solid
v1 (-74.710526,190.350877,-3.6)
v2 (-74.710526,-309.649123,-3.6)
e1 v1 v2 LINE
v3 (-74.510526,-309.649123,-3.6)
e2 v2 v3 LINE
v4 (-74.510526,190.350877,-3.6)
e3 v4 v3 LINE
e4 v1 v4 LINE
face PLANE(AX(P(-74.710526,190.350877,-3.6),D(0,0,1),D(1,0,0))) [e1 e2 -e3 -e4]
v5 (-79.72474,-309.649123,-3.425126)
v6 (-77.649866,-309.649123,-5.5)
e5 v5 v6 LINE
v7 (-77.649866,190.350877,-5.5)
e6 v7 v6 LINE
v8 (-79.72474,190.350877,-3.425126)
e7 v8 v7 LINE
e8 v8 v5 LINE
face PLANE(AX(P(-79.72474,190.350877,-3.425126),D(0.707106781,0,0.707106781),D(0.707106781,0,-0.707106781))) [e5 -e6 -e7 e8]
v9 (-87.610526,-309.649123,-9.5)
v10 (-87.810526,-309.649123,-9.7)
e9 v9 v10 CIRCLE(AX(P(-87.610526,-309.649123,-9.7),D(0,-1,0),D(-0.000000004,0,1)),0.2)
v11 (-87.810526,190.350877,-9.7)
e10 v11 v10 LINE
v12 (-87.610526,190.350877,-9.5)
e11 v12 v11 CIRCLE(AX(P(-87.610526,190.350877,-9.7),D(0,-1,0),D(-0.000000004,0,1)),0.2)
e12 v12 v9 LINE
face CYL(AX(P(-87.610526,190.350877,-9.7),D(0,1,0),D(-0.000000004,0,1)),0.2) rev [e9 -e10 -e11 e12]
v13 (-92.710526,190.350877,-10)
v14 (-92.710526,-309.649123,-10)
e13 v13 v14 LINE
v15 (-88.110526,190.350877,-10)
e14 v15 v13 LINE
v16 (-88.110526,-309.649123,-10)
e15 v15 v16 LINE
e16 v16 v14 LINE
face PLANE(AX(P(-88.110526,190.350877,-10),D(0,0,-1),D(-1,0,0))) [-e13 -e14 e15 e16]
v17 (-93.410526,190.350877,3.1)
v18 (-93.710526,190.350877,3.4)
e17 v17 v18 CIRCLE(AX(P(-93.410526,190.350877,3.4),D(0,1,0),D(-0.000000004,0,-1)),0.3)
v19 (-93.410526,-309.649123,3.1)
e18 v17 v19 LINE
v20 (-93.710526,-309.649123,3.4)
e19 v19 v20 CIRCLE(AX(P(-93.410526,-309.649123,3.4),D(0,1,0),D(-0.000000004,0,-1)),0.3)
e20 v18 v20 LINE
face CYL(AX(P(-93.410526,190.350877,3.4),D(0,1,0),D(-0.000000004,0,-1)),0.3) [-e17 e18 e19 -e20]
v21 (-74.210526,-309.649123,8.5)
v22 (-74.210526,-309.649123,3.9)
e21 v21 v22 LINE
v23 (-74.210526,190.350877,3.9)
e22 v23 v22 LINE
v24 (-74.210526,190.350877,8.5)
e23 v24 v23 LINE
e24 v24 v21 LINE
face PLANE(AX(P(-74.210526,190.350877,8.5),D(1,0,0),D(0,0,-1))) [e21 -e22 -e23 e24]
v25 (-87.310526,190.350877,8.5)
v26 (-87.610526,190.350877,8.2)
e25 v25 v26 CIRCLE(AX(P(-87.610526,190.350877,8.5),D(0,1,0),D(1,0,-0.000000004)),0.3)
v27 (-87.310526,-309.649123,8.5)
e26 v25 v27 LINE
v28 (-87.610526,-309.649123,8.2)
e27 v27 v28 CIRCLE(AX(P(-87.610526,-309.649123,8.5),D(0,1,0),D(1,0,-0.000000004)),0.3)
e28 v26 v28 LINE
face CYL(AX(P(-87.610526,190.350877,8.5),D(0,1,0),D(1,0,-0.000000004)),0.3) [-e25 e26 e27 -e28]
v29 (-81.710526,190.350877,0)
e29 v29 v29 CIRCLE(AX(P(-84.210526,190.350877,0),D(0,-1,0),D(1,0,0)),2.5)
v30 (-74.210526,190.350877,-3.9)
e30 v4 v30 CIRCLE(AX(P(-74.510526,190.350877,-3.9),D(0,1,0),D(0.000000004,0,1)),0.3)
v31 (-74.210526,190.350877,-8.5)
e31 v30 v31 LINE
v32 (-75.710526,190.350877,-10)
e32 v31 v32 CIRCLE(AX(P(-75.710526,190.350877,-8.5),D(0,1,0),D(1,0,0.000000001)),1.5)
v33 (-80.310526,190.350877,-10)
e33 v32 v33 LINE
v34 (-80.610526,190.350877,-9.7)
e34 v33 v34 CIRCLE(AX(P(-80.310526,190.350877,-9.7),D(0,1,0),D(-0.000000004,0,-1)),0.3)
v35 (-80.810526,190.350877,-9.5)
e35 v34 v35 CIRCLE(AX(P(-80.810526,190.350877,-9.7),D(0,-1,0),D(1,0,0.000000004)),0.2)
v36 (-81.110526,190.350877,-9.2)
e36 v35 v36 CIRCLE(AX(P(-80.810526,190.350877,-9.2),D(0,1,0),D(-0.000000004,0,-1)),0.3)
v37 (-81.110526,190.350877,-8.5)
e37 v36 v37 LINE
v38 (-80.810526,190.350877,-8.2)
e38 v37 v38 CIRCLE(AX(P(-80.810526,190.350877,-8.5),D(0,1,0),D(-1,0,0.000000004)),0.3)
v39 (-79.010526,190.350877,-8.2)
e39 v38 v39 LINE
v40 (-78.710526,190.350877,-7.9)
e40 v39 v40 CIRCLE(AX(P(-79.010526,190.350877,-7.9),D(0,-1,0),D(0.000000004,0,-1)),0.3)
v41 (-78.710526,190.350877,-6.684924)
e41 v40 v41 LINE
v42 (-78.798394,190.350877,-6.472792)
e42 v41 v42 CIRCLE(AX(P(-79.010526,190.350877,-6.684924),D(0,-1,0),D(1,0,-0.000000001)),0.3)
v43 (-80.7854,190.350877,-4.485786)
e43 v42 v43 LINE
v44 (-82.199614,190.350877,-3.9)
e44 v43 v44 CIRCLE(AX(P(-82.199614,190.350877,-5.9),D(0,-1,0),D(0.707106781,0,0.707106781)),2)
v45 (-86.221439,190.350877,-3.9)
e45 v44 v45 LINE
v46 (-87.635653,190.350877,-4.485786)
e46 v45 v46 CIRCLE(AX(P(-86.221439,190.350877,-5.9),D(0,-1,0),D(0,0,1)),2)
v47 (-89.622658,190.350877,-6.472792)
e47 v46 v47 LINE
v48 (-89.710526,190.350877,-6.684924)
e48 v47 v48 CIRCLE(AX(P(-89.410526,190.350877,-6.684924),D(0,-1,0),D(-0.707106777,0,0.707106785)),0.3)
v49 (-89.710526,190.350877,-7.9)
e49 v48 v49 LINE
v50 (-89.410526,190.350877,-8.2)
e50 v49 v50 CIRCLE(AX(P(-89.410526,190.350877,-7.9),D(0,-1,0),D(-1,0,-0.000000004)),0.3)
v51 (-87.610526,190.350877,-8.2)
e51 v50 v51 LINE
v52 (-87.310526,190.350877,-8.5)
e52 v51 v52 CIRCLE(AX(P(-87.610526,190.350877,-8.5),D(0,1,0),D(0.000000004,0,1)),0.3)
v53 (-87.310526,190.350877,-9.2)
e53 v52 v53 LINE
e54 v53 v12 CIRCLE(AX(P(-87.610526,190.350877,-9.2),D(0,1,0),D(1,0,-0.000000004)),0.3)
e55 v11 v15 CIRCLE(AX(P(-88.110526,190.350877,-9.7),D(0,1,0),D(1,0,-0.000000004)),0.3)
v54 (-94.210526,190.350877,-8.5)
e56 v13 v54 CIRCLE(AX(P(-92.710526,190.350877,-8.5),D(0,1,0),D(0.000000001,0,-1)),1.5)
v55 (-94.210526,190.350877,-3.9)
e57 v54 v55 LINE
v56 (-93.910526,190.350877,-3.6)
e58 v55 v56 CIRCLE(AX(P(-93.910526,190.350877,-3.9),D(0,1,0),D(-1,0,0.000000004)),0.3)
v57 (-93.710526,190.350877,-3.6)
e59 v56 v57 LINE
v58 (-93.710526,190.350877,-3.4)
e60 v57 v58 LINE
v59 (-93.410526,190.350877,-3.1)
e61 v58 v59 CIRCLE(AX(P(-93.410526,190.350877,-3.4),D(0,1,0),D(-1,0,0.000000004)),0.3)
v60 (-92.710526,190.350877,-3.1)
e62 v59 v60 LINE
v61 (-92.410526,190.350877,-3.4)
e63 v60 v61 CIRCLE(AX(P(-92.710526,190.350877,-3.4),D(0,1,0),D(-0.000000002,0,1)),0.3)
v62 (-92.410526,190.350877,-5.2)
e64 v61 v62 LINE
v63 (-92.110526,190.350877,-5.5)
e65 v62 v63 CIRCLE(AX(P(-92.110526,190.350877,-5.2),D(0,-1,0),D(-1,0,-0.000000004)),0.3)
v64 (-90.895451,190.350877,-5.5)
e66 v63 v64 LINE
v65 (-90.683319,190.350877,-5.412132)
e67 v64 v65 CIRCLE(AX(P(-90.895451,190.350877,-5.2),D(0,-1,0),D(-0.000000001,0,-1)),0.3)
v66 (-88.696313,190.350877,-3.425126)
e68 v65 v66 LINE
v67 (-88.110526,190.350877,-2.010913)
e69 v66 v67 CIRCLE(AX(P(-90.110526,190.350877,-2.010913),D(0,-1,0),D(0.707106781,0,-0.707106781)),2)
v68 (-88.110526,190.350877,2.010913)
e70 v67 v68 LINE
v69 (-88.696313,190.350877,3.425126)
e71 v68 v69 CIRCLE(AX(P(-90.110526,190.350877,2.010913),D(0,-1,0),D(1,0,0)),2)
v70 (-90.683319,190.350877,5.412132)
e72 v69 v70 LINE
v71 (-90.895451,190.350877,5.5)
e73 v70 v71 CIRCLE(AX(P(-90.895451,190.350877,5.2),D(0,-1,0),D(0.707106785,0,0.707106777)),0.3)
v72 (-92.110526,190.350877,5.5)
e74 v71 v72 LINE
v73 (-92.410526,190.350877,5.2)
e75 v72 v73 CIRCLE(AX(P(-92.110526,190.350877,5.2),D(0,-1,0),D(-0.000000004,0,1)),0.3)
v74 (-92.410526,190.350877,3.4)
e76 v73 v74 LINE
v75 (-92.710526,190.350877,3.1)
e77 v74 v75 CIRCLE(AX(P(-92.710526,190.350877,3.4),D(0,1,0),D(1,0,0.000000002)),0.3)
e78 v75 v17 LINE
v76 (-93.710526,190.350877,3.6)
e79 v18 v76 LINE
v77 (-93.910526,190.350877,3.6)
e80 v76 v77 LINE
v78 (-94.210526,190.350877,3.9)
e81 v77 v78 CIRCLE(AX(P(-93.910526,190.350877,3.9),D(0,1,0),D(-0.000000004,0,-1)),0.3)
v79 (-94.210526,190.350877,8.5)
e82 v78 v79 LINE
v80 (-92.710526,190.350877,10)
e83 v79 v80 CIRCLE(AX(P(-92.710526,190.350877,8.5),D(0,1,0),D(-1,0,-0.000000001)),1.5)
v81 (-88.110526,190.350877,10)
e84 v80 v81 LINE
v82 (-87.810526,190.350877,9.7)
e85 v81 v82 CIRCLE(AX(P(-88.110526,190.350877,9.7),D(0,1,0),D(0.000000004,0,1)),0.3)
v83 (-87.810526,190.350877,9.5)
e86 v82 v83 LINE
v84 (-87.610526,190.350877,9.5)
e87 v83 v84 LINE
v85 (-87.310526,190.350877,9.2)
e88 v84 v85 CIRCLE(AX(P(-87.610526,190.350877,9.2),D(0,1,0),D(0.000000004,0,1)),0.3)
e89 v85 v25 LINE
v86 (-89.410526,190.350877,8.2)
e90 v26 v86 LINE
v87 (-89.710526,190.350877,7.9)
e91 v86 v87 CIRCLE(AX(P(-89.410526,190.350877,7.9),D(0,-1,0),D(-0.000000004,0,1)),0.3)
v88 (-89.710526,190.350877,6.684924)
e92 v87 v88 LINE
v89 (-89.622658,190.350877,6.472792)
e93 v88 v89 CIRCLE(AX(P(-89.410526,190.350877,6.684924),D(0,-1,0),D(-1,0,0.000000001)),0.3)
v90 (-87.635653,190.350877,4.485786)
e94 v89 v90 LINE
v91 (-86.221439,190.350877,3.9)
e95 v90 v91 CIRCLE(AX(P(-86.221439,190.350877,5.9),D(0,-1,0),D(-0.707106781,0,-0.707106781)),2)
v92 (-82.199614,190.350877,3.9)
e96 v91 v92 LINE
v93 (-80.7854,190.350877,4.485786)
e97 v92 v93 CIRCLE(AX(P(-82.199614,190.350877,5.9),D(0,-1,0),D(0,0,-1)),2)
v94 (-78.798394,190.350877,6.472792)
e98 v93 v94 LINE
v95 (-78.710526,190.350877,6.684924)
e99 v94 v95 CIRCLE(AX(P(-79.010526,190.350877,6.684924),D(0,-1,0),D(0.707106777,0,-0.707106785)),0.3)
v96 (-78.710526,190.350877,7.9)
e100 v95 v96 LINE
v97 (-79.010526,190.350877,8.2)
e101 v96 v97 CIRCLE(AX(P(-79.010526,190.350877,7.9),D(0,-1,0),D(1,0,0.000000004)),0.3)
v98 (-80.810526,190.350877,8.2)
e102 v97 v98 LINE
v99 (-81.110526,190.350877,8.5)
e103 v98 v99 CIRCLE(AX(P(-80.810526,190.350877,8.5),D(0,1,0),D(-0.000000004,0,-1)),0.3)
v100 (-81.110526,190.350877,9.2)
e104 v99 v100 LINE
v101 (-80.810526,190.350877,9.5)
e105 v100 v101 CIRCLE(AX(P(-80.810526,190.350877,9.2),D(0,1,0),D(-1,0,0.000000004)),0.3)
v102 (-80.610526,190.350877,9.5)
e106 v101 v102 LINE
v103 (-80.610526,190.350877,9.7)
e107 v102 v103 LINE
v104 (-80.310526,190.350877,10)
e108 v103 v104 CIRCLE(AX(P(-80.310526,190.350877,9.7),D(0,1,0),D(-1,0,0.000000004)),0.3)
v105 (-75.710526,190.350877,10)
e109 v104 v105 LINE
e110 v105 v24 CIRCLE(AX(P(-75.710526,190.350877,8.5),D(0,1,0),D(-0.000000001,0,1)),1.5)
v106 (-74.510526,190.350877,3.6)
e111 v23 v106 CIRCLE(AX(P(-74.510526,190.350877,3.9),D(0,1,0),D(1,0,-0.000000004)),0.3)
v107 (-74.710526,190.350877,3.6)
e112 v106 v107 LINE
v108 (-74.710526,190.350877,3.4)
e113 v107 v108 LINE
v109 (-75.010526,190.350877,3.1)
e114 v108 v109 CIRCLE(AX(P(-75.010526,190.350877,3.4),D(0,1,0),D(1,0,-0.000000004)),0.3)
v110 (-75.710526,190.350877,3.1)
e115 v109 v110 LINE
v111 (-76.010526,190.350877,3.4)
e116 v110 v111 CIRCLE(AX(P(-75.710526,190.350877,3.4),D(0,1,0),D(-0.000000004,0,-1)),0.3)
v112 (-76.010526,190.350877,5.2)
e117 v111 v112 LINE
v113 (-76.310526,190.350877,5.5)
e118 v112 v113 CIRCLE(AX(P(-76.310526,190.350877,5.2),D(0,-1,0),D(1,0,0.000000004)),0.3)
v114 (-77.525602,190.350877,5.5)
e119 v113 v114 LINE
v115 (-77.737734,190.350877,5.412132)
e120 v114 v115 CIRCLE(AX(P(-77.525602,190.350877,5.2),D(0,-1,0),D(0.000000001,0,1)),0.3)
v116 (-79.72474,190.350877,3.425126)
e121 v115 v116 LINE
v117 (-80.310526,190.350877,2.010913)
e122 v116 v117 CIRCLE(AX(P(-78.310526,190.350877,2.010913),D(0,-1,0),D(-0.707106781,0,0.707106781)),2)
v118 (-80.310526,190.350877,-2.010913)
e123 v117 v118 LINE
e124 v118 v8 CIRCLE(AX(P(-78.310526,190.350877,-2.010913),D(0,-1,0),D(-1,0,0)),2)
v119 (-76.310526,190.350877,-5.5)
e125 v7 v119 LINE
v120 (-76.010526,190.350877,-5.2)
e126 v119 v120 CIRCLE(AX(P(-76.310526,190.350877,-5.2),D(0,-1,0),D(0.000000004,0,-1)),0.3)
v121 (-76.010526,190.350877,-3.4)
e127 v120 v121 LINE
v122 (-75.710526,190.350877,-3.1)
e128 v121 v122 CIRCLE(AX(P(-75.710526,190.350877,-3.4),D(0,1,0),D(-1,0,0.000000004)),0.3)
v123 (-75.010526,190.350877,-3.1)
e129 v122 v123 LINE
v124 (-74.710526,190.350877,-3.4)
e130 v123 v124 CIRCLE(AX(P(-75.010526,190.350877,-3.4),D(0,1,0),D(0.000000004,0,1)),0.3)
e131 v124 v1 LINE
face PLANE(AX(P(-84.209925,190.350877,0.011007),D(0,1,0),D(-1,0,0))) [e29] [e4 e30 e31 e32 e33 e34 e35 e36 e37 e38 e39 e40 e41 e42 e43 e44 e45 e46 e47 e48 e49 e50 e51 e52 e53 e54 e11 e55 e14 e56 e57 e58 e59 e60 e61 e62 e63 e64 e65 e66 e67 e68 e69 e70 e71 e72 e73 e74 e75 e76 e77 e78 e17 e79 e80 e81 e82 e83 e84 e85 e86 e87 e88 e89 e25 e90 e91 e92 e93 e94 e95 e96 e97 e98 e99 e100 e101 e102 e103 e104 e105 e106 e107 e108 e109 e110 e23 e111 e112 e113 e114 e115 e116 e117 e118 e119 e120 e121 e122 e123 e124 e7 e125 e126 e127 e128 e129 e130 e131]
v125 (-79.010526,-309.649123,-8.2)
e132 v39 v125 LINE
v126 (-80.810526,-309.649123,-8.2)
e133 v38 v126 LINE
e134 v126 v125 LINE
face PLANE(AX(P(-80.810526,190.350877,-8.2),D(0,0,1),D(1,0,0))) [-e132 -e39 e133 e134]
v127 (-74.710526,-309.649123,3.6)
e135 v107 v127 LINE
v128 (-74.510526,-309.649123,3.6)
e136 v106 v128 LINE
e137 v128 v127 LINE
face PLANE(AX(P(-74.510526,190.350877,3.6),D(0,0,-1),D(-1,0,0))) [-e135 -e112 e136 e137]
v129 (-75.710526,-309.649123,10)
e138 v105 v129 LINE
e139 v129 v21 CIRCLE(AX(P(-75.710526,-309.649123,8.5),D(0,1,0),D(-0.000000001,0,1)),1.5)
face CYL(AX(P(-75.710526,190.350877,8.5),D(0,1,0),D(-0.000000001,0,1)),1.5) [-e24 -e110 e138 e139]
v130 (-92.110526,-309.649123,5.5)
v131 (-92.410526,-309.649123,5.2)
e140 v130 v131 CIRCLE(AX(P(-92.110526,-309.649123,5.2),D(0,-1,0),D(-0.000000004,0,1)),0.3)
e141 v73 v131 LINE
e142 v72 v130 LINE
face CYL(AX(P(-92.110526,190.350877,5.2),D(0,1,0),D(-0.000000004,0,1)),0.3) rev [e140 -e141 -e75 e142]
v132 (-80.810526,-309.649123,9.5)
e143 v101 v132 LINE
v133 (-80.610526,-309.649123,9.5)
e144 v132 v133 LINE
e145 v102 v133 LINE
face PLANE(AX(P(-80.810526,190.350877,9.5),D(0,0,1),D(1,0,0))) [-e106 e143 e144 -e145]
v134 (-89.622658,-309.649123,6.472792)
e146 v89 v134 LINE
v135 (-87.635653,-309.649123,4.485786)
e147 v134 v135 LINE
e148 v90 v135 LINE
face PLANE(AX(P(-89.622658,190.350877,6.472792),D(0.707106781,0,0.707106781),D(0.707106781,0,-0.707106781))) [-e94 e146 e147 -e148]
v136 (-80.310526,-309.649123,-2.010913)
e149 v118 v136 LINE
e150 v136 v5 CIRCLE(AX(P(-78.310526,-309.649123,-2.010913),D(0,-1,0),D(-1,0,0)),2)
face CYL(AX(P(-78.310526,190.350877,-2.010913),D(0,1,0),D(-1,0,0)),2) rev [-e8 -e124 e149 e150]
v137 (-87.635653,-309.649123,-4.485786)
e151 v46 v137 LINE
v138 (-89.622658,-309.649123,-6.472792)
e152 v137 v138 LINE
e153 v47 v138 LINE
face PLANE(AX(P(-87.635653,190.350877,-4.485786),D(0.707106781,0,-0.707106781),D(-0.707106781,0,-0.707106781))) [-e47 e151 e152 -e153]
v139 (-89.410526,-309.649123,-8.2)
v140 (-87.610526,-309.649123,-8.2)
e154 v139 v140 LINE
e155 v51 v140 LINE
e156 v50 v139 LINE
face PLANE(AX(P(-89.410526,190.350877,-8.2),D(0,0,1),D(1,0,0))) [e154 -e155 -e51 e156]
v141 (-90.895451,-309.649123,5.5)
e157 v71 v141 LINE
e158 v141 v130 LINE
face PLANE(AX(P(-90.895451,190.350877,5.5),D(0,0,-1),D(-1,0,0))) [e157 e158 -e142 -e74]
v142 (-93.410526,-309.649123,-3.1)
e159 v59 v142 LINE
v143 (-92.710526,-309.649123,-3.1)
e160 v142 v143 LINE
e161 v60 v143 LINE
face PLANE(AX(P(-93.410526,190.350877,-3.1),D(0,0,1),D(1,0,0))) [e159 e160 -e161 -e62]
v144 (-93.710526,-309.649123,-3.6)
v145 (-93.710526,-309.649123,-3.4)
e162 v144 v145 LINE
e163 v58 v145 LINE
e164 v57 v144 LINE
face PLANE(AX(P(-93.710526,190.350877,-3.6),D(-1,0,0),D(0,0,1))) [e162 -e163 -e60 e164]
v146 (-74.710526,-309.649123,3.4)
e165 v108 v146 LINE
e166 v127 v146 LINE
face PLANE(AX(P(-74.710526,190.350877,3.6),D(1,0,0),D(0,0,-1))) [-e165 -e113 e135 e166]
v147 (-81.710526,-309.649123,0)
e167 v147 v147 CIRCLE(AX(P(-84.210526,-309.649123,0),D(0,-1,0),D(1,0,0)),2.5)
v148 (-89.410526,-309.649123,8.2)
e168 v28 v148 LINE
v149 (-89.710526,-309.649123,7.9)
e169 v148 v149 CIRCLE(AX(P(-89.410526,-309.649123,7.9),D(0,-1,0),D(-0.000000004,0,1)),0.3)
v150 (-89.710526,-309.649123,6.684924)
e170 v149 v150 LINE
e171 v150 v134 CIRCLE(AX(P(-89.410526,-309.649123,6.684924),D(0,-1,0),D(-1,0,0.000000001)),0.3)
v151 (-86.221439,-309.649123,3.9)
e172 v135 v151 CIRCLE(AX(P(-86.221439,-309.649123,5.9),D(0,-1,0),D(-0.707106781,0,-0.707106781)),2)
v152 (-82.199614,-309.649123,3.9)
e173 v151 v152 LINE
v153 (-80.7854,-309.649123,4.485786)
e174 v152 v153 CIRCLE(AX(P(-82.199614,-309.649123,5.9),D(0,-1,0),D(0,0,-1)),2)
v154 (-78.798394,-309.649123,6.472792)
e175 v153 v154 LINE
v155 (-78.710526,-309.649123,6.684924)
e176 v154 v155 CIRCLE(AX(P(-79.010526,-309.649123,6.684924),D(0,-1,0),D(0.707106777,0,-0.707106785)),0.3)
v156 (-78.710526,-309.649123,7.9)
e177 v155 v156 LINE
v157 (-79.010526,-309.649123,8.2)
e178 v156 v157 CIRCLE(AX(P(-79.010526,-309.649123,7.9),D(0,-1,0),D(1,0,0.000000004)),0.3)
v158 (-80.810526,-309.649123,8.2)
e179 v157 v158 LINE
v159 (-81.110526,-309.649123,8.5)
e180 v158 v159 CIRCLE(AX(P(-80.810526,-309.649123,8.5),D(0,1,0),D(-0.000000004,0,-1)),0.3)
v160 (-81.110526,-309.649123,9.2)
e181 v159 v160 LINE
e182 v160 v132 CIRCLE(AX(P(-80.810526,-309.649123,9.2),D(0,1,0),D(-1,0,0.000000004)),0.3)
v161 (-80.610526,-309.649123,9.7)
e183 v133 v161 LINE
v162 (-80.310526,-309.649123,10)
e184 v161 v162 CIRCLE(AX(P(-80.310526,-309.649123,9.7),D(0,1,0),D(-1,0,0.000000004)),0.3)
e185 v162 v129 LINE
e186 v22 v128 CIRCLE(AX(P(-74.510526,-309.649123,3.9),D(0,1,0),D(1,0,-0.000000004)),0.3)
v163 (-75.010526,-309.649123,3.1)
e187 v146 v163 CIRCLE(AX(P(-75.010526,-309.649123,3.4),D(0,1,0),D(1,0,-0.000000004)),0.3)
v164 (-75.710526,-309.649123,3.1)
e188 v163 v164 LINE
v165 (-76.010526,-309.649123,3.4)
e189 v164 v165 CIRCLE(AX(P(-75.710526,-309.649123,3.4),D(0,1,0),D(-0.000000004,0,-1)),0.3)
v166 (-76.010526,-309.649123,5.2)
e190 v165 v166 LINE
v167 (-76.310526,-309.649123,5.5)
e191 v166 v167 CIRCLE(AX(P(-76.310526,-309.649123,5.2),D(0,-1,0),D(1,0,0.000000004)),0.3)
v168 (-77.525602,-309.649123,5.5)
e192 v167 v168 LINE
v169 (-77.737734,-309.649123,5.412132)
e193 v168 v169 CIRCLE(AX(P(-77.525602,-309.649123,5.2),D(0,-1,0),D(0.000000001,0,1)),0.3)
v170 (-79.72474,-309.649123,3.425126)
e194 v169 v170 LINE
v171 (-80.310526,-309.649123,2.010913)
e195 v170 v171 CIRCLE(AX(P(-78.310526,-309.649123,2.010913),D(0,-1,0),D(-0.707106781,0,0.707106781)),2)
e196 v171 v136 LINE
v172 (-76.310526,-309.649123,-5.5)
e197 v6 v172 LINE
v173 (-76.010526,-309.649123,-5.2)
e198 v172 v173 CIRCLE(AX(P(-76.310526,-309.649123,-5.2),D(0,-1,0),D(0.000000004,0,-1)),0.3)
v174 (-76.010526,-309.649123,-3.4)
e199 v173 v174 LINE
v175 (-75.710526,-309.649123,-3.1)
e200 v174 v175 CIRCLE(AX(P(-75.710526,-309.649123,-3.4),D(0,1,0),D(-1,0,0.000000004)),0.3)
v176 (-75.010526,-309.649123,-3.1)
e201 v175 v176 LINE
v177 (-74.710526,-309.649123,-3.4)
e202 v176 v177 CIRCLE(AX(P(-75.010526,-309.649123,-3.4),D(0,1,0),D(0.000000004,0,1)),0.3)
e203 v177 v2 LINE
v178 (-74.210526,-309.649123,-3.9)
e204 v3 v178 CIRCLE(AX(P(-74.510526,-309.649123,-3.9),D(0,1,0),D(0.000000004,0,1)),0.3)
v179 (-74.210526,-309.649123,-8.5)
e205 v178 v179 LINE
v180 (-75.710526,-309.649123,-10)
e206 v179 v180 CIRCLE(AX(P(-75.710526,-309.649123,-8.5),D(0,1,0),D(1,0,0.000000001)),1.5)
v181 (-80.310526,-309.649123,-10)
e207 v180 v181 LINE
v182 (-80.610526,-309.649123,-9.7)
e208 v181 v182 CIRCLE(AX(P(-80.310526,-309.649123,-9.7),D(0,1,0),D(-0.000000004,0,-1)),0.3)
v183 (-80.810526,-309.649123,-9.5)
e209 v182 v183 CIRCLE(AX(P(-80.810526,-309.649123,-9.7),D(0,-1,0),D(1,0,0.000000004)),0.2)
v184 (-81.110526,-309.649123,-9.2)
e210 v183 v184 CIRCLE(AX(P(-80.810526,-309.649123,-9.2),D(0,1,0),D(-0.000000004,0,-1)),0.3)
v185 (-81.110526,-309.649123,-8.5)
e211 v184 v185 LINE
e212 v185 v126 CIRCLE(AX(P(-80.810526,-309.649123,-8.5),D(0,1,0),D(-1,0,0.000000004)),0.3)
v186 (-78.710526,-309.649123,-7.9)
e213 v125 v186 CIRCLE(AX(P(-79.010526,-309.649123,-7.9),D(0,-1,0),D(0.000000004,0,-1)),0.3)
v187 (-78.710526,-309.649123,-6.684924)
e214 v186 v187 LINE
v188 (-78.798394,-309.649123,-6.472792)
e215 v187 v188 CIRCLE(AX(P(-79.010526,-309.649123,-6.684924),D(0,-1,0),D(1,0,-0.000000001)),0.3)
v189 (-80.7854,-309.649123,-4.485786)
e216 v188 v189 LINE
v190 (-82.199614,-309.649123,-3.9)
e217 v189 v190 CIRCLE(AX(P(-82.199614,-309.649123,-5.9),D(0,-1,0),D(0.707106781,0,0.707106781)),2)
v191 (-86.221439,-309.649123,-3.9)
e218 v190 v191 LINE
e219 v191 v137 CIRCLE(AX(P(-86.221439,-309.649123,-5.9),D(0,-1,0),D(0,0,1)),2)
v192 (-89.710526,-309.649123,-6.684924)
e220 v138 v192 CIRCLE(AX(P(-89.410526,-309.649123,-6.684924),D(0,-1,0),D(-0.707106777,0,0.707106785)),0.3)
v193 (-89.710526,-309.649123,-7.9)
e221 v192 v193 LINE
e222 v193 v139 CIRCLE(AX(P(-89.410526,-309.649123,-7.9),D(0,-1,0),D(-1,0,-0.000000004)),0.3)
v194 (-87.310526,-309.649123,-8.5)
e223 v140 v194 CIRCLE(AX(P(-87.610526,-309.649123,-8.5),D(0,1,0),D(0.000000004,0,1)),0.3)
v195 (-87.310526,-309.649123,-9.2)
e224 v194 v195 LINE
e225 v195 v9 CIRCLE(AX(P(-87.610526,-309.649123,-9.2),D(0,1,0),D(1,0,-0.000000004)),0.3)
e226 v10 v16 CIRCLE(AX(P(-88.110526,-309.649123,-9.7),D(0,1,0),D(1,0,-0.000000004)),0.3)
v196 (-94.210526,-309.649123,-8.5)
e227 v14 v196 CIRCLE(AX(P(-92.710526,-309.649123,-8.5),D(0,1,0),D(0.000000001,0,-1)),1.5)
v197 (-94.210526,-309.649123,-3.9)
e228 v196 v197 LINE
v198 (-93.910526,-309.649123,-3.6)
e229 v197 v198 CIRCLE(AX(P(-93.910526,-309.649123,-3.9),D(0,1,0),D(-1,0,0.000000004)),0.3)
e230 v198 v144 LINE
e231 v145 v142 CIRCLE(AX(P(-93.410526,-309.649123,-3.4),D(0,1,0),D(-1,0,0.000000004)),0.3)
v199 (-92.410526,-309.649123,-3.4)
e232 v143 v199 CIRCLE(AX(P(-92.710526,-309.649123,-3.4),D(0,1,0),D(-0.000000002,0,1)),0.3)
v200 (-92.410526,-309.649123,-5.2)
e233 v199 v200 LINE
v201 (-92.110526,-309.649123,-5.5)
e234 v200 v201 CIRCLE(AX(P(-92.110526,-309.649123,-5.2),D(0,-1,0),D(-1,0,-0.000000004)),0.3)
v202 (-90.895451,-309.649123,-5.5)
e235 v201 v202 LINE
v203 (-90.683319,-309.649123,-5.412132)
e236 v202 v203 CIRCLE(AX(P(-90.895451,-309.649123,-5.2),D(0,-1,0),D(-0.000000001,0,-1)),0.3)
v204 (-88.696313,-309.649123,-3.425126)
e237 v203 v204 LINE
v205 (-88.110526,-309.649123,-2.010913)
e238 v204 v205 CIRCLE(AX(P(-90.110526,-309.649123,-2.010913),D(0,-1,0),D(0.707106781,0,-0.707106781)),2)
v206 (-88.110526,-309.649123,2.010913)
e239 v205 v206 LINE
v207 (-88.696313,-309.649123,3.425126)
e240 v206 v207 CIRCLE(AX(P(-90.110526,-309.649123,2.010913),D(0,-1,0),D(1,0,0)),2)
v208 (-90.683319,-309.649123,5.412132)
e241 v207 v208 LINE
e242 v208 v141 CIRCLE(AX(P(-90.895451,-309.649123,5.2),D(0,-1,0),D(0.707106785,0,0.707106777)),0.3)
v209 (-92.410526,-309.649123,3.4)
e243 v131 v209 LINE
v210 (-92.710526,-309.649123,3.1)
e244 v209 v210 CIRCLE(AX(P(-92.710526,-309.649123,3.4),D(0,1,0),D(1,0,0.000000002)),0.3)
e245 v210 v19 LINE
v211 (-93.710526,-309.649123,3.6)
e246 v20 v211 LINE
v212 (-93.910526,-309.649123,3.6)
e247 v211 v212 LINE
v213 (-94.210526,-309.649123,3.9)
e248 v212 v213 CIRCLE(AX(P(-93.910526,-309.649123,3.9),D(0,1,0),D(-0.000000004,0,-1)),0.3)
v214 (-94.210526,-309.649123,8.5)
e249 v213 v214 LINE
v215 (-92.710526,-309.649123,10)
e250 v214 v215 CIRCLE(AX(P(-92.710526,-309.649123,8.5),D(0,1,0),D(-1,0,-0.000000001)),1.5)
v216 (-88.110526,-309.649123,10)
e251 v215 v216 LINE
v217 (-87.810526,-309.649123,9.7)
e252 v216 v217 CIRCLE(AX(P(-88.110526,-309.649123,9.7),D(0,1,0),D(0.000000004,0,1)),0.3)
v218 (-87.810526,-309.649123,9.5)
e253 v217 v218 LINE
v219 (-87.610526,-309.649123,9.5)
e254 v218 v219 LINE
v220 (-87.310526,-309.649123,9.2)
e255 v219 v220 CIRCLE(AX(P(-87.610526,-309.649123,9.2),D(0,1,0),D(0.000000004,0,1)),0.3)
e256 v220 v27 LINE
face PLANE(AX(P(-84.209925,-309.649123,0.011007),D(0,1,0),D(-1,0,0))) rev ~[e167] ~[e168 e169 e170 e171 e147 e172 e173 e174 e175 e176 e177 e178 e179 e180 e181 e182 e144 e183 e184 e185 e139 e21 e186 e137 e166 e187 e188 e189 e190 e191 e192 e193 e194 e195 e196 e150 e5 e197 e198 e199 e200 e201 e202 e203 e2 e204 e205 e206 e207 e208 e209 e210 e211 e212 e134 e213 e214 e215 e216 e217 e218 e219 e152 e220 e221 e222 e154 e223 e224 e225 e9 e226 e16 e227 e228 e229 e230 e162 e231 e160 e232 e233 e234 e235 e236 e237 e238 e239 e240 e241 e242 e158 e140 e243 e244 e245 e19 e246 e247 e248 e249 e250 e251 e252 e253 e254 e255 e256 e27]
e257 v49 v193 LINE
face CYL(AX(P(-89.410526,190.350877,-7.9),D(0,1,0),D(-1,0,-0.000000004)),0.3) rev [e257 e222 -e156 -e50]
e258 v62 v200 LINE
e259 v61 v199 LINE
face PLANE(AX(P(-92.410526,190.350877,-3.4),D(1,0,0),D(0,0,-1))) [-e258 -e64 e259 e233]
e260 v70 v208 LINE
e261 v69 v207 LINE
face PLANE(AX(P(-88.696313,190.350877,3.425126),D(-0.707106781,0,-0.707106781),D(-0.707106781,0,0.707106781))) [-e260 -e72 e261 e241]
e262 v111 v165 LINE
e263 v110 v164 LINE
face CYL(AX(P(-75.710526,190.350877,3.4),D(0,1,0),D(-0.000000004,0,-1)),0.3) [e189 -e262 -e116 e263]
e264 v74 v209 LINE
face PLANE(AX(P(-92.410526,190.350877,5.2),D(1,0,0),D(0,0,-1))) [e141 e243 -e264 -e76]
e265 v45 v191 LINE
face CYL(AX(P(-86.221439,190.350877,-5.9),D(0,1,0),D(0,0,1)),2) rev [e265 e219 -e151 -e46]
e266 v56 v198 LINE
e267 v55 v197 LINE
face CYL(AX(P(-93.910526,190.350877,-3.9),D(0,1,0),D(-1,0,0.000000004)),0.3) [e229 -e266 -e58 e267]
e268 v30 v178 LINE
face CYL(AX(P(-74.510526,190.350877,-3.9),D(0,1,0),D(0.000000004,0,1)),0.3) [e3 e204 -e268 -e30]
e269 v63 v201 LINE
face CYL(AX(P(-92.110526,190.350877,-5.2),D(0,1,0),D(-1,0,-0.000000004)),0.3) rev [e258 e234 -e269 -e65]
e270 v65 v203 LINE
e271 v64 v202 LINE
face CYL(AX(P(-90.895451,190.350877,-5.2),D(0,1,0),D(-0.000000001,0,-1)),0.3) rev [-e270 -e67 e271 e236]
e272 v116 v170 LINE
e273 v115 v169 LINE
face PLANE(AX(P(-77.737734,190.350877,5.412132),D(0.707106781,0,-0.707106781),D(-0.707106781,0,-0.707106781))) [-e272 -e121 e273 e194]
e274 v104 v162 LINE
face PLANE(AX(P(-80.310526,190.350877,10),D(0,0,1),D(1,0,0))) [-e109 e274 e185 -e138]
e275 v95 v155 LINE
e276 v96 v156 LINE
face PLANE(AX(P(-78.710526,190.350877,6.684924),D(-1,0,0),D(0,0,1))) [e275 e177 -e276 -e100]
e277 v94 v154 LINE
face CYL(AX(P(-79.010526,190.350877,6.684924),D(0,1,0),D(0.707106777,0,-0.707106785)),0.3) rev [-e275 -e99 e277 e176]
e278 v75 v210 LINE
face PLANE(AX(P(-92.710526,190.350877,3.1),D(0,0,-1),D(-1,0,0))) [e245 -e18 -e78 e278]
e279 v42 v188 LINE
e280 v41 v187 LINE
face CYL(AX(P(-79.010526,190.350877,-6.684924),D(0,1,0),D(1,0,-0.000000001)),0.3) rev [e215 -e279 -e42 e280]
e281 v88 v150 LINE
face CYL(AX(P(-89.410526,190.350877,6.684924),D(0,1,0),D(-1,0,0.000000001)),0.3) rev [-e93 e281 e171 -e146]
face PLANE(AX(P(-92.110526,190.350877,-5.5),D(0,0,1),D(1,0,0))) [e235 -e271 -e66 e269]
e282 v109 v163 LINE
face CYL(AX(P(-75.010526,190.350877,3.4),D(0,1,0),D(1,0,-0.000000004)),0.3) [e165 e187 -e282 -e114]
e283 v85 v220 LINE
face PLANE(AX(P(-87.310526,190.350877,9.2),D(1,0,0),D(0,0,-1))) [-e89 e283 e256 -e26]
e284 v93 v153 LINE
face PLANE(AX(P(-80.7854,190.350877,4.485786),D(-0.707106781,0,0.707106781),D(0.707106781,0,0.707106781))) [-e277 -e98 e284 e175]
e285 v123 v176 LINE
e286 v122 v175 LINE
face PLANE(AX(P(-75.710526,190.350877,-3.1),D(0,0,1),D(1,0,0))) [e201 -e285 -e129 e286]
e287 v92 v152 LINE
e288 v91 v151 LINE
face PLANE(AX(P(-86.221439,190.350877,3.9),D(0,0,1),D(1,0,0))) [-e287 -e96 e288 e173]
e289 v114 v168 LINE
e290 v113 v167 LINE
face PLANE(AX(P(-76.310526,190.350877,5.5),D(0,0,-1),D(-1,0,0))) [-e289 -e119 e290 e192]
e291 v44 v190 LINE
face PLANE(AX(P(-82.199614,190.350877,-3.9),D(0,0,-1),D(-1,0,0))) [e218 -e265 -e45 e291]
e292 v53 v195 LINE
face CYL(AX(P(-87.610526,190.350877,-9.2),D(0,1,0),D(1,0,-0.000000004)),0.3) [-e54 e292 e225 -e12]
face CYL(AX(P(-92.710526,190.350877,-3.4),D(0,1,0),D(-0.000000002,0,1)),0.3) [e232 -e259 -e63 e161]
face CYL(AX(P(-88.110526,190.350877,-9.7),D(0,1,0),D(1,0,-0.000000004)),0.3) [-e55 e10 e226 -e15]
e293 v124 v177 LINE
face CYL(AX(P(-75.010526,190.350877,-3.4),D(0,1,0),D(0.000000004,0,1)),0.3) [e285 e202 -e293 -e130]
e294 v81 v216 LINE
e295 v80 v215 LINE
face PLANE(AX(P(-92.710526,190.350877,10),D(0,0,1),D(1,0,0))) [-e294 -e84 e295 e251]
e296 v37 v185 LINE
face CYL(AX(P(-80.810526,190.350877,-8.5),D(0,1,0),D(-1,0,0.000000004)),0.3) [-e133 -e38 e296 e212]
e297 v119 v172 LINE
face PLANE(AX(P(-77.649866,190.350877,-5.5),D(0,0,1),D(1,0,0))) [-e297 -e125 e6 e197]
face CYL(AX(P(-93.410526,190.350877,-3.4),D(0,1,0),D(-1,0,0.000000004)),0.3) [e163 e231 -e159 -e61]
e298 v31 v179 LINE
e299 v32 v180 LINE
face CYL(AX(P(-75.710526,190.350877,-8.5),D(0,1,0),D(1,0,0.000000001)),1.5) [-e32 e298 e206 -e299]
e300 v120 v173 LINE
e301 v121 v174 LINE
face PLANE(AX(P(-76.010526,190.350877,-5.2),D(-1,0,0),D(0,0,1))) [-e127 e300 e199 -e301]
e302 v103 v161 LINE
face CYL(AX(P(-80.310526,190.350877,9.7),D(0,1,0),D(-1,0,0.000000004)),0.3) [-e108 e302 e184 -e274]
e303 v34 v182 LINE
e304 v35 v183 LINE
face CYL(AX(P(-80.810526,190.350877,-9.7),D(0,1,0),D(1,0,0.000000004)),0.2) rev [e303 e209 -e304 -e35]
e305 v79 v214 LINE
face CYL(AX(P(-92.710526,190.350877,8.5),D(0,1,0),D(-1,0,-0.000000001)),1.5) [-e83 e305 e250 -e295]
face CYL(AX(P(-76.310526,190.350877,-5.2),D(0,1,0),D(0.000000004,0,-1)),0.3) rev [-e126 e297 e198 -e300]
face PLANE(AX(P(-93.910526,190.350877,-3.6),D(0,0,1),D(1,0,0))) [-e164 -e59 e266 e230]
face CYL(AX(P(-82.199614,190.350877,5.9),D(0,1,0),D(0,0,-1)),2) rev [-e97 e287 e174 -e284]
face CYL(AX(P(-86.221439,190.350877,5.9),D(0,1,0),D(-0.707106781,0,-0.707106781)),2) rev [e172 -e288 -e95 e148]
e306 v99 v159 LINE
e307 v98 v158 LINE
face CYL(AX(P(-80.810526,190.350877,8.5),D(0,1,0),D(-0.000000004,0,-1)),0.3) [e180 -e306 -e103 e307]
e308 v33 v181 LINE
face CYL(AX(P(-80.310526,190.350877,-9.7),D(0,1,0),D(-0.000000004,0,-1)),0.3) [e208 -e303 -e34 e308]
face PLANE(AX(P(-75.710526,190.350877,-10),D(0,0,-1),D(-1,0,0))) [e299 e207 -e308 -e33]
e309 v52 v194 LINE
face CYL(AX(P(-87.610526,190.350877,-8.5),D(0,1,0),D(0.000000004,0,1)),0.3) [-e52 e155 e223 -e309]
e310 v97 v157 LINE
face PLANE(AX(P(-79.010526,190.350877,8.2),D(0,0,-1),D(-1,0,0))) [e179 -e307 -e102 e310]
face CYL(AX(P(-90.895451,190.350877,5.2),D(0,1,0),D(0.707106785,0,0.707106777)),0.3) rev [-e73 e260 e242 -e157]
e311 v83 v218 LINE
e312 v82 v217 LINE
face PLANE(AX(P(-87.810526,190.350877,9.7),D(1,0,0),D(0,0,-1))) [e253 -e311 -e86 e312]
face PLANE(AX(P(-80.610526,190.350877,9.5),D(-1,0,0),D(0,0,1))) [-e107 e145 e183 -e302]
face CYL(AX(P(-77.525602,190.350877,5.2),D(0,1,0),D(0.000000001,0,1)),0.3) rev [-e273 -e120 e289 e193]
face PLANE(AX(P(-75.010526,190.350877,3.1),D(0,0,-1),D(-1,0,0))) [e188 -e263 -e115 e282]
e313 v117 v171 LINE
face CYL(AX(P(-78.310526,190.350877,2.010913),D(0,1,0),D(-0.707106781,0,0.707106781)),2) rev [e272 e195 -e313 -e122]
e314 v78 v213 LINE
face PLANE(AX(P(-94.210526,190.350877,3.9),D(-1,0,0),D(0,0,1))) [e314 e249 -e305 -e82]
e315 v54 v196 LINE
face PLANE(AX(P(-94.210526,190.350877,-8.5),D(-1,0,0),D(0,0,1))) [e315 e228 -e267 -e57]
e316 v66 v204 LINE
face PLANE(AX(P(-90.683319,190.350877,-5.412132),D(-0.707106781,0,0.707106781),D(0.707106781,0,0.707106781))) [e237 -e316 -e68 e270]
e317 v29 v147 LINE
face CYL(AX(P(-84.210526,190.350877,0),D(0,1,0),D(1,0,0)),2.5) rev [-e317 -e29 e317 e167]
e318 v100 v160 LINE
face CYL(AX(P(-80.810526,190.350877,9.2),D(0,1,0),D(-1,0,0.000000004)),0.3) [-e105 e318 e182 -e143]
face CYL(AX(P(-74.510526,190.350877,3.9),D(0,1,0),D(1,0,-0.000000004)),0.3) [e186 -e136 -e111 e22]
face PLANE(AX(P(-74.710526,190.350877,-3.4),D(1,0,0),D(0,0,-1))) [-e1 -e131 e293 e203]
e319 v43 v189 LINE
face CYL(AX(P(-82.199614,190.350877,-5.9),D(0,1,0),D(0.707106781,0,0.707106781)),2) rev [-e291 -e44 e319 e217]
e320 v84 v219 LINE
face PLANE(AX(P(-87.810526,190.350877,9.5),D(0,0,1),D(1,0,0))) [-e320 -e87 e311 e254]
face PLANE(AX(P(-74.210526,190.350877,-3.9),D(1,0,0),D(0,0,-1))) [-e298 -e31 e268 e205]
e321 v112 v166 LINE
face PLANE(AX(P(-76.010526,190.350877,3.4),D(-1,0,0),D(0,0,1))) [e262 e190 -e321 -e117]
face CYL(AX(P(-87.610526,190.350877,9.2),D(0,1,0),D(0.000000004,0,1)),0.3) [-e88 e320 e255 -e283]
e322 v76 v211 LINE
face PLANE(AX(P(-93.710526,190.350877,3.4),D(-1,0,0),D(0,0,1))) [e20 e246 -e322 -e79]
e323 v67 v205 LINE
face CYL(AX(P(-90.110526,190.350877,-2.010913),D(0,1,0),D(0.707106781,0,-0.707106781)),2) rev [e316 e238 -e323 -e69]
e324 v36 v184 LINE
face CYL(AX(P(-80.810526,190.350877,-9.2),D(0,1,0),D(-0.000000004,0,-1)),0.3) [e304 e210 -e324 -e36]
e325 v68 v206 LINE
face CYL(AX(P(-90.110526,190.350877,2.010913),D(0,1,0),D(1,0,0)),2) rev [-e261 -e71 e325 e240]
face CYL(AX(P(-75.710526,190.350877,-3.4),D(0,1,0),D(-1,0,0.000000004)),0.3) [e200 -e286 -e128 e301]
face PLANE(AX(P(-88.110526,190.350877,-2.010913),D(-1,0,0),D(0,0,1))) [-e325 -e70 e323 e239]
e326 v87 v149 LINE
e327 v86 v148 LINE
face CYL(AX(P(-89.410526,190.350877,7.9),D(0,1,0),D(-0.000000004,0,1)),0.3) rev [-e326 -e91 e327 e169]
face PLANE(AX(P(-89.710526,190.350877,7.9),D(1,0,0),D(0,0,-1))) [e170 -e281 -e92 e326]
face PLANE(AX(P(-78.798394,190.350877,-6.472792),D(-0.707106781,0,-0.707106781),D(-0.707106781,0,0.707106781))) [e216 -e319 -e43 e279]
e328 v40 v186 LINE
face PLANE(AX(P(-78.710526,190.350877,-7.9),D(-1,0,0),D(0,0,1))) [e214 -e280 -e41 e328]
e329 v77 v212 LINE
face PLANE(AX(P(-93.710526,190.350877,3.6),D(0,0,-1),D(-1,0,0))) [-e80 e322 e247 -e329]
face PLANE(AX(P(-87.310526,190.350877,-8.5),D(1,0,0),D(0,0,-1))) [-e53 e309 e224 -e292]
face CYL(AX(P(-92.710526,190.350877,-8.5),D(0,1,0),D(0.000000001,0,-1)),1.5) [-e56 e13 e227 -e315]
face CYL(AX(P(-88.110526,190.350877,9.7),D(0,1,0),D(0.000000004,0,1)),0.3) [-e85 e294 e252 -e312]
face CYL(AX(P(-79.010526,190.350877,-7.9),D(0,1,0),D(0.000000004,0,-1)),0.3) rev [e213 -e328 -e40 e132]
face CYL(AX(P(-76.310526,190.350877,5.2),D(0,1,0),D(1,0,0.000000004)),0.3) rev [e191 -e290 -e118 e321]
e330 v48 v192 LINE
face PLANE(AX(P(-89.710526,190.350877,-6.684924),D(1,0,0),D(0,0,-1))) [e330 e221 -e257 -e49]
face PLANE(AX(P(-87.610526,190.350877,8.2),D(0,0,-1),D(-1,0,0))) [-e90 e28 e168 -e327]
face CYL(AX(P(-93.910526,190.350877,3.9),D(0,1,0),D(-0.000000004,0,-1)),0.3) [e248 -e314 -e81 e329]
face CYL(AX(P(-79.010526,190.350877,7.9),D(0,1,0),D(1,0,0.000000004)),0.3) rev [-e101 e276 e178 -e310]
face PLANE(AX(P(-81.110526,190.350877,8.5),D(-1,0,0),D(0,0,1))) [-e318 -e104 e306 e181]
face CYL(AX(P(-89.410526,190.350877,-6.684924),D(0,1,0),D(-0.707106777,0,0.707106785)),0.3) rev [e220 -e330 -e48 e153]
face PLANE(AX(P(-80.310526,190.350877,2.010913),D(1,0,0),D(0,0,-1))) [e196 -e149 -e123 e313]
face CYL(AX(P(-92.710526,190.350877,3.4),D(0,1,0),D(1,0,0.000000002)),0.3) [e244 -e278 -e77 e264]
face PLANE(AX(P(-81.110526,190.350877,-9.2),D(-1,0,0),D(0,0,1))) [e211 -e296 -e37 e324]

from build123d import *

# Parameters (mm, degrees)
SKETCH_11_R            = 2.5
MEMBER_20_2020_1_DEPTH = 500


with BuildPart() as part:
    # 草图11 → Member 20 2020_1 (new body)
    with BuildSketch(Plane(origin=(-84.210526316, 190.350877193, 0), x_dir=(1, 0, 0), z_dir=(0, -1, 0))):
        with BuildLine():
            Line((3.9, 0), (3.9, -2.010912703))
            ThreePointArc((3.9, -2.010912703), (4.052240935, -2.776279568), (4.485786438, -3.425126266))
            Line((4.485786438, -3.425126266), (6.560660172, -5.5))
            Line((6.560660172, -5.5), (7.9, -5.5))
            ThreePointArc((7.9, -5.5), (8.112132034, -5.412132034), (8.2, -5.2))
            Line((8.2, -5.2), (8.2, -3.4))
            ThreePointArc((8.2, -3.4), (8.287867966, -3.187867966), (8.5, -3.1))
            Line((8.5, -3.1), (9.2, -3.1))
            ThreePointArc((9.2, -3.1), (9.412132034, -3.187867966), (9.5, -3.4))
            Line((9.5, -3.4), (9.5, -3.6))
            Line((9.5, -3.6), (9.7, -3.6))
            ThreePointArc((9.7, -3.6), (9.912132034, -3.687867966), (10, -3.9))
            Line((10, -3.9), (10, -8.5))
            ThreePointArc((10, -8.5), (9.560660172, -9.560660172), (8.5, -10))
            Line((8.5, -10), (3.9, -10))
            ThreePointArc((3.9, -10), (3.687867966, -9.912132034), (3.6, -9.7))
            ThreePointArc((3.6, -9.7), (3.541421356, -9.558578644), (3.4, -9.5))
            ThreePointArc((3.4, -9.5), (3.187867966, -9.412132034), (3.1, -9.2))
            Line((3.1, -9.2), (3.1, -8.5))
            ThreePointArc((3.1, -8.5), (3.187867966, -8.287867966), (3.4, -8.2))
            Line((3.4, -8.2), (5.2, -8.2))
            ThreePointArc((5.2, -8.2), (5.412132034, -8.112132034), (5.5, -7.9))
            Line((5.5, -7.9), (5.5, -6.68492424))
            ThreePointArc((5.5, -6.68492424), (5.47716386, -6.570119211), (5.412132034, -6.472792206))
            Line((5.412132034, -6.472792206), (3.425126266, -4.485786438))
            ThreePointArc((3.425126266, -4.485786438), (2.776279568, -4.052240935), (2.010912703, -3.9))
            Line((2.010912703, -3.9), (0, -3.9))
            Line((0, -3.9), (-2.010912703, -3.9))
            ThreePointArc((-2.010912703, -3.9), (-2.776279568, -4.052240935), (-3.425126266, -4.485786438))
            Line((-3.425126266, -4.485786438), (-5.412132034, -6.472792206))
            ThreePointArc((-5.412132034, -6.472792206), (-5.47716386, -6.570119211), (-5.5, -6.68492424))
            Line((-5.5, -6.68492424), (-5.5, -7.9))
            ThreePointArc((-5.5, -7.9), (-5.412132034, -8.112132034), (-5.2, -8.2))
            Line((-5.2, -8.2), (-3.4, -8.2))
            ThreePointArc((-3.4, -8.2), (-3.187867966, -8.287867966), (-3.1, -8.5))
            Line((-3.1, -8.5), (-3.1, -9.2))
            ThreePointArc((-3.1, -9.2), (-3.187867966, -9.412132034), (-3.4, -9.5))
            ThreePointArc((-3.4, -9.5), (-3.541421356, -9.558578644), (-3.6, -9.7))
            ThreePointArc((-3.6, -9.7), (-3.687867966, -9.912132034), (-3.9, -10))
            Line((-3.9, -10), (-8.5, -10))
            ThreePointArc((-8.5, -10), (-9.560660172, -9.560660172), (-10, -8.5))
            Line((-10, -8.5), (-10, -3.9))
            ThreePointArc((-10, -3.9), (-9.912132034, -3.687867966), (-9.7, -3.6))
            Line((-9.7, -3.6), (-9.5, -3.6))
            Line((-9.5, -3.6), (-9.5, -3.4))
            ThreePointArc((-9.5, -3.4), (-9.412132034, -3.187867966), (-9.2, -3.1))
            Line((-9.2, -3.1), (-8.5, -3.1))
            ThreePointArc((-8.5, -3.1), (-8.287867965, -3.187867966), (-8.2, -3.4))
            Line((-8.2, -3.4), (-8.2, -5.2))
            ThreePointArc((-8.2, -5.2), (-8.112132034, -5.412132034), (-7.9, -5.5))
            Line((-7.9, -5.5), (-6.68492424, -5.5))
            ThreePointArc((-6.68492424, -5.5), (-6.570119211, -5.47716386), (-6.472792206, -5.412132034))
            Line((-6.472792206, -5.412132034), (-4.485786438, -3.425126266))
            ThreePointArc((-4.485786438, -3.425126266), (-4.052240935, -2.776279568), (-3.9, -2.010912703))
            Line((-3.9, -2.010912703), (-3.9, 0))
            Line((-3.9, 0), (-3.9, 2.010912703))
            ThreePointArc((-3.9, 2.010912703), (-4.052240935, 2.776279568), (-4.485786438, 3.425126266))
            Line((-4.485786438, 3.425126266), (-6.472792206, 5.412132034))
            ThreePointArc((-6.472792206, 5.412132034), (-6.570119211, 5.47716386), (-6.68492424, 5.5))
            Line((-6.68492424, 5.5), (-7.9, 5.5))
            ThreePointArc((-7.9, 5.5), (-8.112132034, 5.412132034), (-8.2, 5.2))
            Line((-8.2, 5.2), (-8.2, 3.4))
            ThreePointArc((-8.2, 3.4), (-8.287867965, 3.187867966), (-8.5, 3.1))
            Line((-8.5, 3.1), (-9.2, 3.1))
            ThreePointArc((-9.2, 3.1), (-9.412132034, 3.187867966), (-9.5, 3.4))
            Line((-9.5, 3.4), (-9.5, 3.6))
            Line((-9.5, 3.6), (-9.7, 3.6))
            ThreePointArc((-9.7, 3.6), (-9.912132034, 3.687867966), (-10, 3.9))
            Line((-10, 3.9), (-10, 8.5))
            ThreePointArc((-10, 8.5), (-9.560660172, 9.560660172), (-8.5, 10))
            Line((-8.5, 10), (-3.9, 10))
            ThreePointArc((-3.9, 10), (-3.687867966, 9.912132034), (-3.6, 9.7))
            Line((-3.6, 9.7), (-3.6, 9.5))
            Line((-3.6, 9.5), (-3.4, 9.5))
            ThreePointArc((-3.4, 9.5), (-3.187867966, 9.412132034), (-3.1, 9.2))
            Line((-3.1, 9.2), (-3.1, 8.5))
            ThreePointArc((-3.1, 8.5), (-3.187867966, 8.287867966), (-3.4, 8.2))
            Line((-3.4, 8.2), (-5.2, 8.2))
            ThreePointArc((-5.2, 8.2), (-5.412132034, 8.112132034), (-5.5, 7.9))
            Line((-5.5, 7.9), (-5.5, 6.68492424))
            ThreePointArc((-5.5, 6.68492424), (-5.47716386, 6.570119211), (-5.412132034, 6.472792206))
            Line((-5.412132034, 6.472792206), (-3.425126266, 4.485786438))
            ThreePointArc((-3.425126266, 4.485786438), (-2.776279568, 4.052240935), (-2.010912703, 3.9))
            Line((-2.010912703, 3.9), (0, 3.9))
            Line((0, 3.9), (2.010912703, 3.9))
            ThreePointArc((2.010912703, 3.9), (2.776279568, 4.052240935), (3.425126266, 4.485786438))
            Line((3.425126266, 4.485786438), (5.412132034, 6.472792206))
            ThreePointArc((5.412132034, 6.472792206), (5.47716386, 6.570119211), (5.5, 6.68492424))
            Line((5.5, 6.68492424), (5.5, 7.9))
            ThreePointArc((5.5, 7.9), (5.412132034, 8.112132034), (5.2, 8.2))
            Line((5.2, 8.2), (3.4, 8.2))
            ThreePointArc((3.4, 8.2), (3.187867966, 8.287867966), (3.1, 8.5))
            Line((3.1, 8.5), (3.1, 9.2))
            ThreePointArc((3.1, 9.2), (3.187867966, 9.412132034), (3.4, 9.5))
            Line((3.4, 9.5), (3.6, 9.5))
            Line((3.6, 9.5), (3.6, 9.7))
            ThreePointArc((3.6, 9.7), (3.687867966, 9.912132034), (3.9, 10))
            Line((3.9, 10), (8.5, 10))
            ThreePointArc((8.5, 10), (9.560660172, 9.560660172), (10, 8.5))
            Line((10, 8.5), (10, 3.9))
            ThreePointArc((10, 3.9), (9.912132034, 3.687867966), (9.7, 3.6))
            Line((9.7, 3.6), (9.5, 3.6))
            Line((9.5, 3.6), (9.5, 3.4))
            ThreePointArc((9.5, 3.4), (9.412132034, 3.187867966), (9.2, 3.1))
            Line((9.2, 3.1), (8.5, 3.1))
            ThreePointArc((8.5, 3.1), (8.287867966, 3.187867966), (8.2, 3.4))
            Line((8.2, 3.4), (8.2, 5.2))
            ThreePointArc((8.2, 5.2), (8.112132034, 5.412132034), (7.9, 5.5))
            Line((7.9, 5.5), (6.68492424, 5.5))
            ThreePointArc((6.68492424, 5.5), (6.570119211, 5.47716386), (6.472792206, 5.412132034))
            Line((6.472792206, 5.412132034), (4.485786438, 3.425126266))
            ThreePointArc((4.485786438, 3.425126266), (4.052240935, 2.776279568), (3.9, 2.010912703))
            Line((3.9, 2.010912703), (3.9, 0))
        make_face()
        Circle(SKETCH_11_R, mode=Mode.SUBTRACT)
    extrude(amount=MEMBER_20_2020_1_DEPTH)


solid = part.part
